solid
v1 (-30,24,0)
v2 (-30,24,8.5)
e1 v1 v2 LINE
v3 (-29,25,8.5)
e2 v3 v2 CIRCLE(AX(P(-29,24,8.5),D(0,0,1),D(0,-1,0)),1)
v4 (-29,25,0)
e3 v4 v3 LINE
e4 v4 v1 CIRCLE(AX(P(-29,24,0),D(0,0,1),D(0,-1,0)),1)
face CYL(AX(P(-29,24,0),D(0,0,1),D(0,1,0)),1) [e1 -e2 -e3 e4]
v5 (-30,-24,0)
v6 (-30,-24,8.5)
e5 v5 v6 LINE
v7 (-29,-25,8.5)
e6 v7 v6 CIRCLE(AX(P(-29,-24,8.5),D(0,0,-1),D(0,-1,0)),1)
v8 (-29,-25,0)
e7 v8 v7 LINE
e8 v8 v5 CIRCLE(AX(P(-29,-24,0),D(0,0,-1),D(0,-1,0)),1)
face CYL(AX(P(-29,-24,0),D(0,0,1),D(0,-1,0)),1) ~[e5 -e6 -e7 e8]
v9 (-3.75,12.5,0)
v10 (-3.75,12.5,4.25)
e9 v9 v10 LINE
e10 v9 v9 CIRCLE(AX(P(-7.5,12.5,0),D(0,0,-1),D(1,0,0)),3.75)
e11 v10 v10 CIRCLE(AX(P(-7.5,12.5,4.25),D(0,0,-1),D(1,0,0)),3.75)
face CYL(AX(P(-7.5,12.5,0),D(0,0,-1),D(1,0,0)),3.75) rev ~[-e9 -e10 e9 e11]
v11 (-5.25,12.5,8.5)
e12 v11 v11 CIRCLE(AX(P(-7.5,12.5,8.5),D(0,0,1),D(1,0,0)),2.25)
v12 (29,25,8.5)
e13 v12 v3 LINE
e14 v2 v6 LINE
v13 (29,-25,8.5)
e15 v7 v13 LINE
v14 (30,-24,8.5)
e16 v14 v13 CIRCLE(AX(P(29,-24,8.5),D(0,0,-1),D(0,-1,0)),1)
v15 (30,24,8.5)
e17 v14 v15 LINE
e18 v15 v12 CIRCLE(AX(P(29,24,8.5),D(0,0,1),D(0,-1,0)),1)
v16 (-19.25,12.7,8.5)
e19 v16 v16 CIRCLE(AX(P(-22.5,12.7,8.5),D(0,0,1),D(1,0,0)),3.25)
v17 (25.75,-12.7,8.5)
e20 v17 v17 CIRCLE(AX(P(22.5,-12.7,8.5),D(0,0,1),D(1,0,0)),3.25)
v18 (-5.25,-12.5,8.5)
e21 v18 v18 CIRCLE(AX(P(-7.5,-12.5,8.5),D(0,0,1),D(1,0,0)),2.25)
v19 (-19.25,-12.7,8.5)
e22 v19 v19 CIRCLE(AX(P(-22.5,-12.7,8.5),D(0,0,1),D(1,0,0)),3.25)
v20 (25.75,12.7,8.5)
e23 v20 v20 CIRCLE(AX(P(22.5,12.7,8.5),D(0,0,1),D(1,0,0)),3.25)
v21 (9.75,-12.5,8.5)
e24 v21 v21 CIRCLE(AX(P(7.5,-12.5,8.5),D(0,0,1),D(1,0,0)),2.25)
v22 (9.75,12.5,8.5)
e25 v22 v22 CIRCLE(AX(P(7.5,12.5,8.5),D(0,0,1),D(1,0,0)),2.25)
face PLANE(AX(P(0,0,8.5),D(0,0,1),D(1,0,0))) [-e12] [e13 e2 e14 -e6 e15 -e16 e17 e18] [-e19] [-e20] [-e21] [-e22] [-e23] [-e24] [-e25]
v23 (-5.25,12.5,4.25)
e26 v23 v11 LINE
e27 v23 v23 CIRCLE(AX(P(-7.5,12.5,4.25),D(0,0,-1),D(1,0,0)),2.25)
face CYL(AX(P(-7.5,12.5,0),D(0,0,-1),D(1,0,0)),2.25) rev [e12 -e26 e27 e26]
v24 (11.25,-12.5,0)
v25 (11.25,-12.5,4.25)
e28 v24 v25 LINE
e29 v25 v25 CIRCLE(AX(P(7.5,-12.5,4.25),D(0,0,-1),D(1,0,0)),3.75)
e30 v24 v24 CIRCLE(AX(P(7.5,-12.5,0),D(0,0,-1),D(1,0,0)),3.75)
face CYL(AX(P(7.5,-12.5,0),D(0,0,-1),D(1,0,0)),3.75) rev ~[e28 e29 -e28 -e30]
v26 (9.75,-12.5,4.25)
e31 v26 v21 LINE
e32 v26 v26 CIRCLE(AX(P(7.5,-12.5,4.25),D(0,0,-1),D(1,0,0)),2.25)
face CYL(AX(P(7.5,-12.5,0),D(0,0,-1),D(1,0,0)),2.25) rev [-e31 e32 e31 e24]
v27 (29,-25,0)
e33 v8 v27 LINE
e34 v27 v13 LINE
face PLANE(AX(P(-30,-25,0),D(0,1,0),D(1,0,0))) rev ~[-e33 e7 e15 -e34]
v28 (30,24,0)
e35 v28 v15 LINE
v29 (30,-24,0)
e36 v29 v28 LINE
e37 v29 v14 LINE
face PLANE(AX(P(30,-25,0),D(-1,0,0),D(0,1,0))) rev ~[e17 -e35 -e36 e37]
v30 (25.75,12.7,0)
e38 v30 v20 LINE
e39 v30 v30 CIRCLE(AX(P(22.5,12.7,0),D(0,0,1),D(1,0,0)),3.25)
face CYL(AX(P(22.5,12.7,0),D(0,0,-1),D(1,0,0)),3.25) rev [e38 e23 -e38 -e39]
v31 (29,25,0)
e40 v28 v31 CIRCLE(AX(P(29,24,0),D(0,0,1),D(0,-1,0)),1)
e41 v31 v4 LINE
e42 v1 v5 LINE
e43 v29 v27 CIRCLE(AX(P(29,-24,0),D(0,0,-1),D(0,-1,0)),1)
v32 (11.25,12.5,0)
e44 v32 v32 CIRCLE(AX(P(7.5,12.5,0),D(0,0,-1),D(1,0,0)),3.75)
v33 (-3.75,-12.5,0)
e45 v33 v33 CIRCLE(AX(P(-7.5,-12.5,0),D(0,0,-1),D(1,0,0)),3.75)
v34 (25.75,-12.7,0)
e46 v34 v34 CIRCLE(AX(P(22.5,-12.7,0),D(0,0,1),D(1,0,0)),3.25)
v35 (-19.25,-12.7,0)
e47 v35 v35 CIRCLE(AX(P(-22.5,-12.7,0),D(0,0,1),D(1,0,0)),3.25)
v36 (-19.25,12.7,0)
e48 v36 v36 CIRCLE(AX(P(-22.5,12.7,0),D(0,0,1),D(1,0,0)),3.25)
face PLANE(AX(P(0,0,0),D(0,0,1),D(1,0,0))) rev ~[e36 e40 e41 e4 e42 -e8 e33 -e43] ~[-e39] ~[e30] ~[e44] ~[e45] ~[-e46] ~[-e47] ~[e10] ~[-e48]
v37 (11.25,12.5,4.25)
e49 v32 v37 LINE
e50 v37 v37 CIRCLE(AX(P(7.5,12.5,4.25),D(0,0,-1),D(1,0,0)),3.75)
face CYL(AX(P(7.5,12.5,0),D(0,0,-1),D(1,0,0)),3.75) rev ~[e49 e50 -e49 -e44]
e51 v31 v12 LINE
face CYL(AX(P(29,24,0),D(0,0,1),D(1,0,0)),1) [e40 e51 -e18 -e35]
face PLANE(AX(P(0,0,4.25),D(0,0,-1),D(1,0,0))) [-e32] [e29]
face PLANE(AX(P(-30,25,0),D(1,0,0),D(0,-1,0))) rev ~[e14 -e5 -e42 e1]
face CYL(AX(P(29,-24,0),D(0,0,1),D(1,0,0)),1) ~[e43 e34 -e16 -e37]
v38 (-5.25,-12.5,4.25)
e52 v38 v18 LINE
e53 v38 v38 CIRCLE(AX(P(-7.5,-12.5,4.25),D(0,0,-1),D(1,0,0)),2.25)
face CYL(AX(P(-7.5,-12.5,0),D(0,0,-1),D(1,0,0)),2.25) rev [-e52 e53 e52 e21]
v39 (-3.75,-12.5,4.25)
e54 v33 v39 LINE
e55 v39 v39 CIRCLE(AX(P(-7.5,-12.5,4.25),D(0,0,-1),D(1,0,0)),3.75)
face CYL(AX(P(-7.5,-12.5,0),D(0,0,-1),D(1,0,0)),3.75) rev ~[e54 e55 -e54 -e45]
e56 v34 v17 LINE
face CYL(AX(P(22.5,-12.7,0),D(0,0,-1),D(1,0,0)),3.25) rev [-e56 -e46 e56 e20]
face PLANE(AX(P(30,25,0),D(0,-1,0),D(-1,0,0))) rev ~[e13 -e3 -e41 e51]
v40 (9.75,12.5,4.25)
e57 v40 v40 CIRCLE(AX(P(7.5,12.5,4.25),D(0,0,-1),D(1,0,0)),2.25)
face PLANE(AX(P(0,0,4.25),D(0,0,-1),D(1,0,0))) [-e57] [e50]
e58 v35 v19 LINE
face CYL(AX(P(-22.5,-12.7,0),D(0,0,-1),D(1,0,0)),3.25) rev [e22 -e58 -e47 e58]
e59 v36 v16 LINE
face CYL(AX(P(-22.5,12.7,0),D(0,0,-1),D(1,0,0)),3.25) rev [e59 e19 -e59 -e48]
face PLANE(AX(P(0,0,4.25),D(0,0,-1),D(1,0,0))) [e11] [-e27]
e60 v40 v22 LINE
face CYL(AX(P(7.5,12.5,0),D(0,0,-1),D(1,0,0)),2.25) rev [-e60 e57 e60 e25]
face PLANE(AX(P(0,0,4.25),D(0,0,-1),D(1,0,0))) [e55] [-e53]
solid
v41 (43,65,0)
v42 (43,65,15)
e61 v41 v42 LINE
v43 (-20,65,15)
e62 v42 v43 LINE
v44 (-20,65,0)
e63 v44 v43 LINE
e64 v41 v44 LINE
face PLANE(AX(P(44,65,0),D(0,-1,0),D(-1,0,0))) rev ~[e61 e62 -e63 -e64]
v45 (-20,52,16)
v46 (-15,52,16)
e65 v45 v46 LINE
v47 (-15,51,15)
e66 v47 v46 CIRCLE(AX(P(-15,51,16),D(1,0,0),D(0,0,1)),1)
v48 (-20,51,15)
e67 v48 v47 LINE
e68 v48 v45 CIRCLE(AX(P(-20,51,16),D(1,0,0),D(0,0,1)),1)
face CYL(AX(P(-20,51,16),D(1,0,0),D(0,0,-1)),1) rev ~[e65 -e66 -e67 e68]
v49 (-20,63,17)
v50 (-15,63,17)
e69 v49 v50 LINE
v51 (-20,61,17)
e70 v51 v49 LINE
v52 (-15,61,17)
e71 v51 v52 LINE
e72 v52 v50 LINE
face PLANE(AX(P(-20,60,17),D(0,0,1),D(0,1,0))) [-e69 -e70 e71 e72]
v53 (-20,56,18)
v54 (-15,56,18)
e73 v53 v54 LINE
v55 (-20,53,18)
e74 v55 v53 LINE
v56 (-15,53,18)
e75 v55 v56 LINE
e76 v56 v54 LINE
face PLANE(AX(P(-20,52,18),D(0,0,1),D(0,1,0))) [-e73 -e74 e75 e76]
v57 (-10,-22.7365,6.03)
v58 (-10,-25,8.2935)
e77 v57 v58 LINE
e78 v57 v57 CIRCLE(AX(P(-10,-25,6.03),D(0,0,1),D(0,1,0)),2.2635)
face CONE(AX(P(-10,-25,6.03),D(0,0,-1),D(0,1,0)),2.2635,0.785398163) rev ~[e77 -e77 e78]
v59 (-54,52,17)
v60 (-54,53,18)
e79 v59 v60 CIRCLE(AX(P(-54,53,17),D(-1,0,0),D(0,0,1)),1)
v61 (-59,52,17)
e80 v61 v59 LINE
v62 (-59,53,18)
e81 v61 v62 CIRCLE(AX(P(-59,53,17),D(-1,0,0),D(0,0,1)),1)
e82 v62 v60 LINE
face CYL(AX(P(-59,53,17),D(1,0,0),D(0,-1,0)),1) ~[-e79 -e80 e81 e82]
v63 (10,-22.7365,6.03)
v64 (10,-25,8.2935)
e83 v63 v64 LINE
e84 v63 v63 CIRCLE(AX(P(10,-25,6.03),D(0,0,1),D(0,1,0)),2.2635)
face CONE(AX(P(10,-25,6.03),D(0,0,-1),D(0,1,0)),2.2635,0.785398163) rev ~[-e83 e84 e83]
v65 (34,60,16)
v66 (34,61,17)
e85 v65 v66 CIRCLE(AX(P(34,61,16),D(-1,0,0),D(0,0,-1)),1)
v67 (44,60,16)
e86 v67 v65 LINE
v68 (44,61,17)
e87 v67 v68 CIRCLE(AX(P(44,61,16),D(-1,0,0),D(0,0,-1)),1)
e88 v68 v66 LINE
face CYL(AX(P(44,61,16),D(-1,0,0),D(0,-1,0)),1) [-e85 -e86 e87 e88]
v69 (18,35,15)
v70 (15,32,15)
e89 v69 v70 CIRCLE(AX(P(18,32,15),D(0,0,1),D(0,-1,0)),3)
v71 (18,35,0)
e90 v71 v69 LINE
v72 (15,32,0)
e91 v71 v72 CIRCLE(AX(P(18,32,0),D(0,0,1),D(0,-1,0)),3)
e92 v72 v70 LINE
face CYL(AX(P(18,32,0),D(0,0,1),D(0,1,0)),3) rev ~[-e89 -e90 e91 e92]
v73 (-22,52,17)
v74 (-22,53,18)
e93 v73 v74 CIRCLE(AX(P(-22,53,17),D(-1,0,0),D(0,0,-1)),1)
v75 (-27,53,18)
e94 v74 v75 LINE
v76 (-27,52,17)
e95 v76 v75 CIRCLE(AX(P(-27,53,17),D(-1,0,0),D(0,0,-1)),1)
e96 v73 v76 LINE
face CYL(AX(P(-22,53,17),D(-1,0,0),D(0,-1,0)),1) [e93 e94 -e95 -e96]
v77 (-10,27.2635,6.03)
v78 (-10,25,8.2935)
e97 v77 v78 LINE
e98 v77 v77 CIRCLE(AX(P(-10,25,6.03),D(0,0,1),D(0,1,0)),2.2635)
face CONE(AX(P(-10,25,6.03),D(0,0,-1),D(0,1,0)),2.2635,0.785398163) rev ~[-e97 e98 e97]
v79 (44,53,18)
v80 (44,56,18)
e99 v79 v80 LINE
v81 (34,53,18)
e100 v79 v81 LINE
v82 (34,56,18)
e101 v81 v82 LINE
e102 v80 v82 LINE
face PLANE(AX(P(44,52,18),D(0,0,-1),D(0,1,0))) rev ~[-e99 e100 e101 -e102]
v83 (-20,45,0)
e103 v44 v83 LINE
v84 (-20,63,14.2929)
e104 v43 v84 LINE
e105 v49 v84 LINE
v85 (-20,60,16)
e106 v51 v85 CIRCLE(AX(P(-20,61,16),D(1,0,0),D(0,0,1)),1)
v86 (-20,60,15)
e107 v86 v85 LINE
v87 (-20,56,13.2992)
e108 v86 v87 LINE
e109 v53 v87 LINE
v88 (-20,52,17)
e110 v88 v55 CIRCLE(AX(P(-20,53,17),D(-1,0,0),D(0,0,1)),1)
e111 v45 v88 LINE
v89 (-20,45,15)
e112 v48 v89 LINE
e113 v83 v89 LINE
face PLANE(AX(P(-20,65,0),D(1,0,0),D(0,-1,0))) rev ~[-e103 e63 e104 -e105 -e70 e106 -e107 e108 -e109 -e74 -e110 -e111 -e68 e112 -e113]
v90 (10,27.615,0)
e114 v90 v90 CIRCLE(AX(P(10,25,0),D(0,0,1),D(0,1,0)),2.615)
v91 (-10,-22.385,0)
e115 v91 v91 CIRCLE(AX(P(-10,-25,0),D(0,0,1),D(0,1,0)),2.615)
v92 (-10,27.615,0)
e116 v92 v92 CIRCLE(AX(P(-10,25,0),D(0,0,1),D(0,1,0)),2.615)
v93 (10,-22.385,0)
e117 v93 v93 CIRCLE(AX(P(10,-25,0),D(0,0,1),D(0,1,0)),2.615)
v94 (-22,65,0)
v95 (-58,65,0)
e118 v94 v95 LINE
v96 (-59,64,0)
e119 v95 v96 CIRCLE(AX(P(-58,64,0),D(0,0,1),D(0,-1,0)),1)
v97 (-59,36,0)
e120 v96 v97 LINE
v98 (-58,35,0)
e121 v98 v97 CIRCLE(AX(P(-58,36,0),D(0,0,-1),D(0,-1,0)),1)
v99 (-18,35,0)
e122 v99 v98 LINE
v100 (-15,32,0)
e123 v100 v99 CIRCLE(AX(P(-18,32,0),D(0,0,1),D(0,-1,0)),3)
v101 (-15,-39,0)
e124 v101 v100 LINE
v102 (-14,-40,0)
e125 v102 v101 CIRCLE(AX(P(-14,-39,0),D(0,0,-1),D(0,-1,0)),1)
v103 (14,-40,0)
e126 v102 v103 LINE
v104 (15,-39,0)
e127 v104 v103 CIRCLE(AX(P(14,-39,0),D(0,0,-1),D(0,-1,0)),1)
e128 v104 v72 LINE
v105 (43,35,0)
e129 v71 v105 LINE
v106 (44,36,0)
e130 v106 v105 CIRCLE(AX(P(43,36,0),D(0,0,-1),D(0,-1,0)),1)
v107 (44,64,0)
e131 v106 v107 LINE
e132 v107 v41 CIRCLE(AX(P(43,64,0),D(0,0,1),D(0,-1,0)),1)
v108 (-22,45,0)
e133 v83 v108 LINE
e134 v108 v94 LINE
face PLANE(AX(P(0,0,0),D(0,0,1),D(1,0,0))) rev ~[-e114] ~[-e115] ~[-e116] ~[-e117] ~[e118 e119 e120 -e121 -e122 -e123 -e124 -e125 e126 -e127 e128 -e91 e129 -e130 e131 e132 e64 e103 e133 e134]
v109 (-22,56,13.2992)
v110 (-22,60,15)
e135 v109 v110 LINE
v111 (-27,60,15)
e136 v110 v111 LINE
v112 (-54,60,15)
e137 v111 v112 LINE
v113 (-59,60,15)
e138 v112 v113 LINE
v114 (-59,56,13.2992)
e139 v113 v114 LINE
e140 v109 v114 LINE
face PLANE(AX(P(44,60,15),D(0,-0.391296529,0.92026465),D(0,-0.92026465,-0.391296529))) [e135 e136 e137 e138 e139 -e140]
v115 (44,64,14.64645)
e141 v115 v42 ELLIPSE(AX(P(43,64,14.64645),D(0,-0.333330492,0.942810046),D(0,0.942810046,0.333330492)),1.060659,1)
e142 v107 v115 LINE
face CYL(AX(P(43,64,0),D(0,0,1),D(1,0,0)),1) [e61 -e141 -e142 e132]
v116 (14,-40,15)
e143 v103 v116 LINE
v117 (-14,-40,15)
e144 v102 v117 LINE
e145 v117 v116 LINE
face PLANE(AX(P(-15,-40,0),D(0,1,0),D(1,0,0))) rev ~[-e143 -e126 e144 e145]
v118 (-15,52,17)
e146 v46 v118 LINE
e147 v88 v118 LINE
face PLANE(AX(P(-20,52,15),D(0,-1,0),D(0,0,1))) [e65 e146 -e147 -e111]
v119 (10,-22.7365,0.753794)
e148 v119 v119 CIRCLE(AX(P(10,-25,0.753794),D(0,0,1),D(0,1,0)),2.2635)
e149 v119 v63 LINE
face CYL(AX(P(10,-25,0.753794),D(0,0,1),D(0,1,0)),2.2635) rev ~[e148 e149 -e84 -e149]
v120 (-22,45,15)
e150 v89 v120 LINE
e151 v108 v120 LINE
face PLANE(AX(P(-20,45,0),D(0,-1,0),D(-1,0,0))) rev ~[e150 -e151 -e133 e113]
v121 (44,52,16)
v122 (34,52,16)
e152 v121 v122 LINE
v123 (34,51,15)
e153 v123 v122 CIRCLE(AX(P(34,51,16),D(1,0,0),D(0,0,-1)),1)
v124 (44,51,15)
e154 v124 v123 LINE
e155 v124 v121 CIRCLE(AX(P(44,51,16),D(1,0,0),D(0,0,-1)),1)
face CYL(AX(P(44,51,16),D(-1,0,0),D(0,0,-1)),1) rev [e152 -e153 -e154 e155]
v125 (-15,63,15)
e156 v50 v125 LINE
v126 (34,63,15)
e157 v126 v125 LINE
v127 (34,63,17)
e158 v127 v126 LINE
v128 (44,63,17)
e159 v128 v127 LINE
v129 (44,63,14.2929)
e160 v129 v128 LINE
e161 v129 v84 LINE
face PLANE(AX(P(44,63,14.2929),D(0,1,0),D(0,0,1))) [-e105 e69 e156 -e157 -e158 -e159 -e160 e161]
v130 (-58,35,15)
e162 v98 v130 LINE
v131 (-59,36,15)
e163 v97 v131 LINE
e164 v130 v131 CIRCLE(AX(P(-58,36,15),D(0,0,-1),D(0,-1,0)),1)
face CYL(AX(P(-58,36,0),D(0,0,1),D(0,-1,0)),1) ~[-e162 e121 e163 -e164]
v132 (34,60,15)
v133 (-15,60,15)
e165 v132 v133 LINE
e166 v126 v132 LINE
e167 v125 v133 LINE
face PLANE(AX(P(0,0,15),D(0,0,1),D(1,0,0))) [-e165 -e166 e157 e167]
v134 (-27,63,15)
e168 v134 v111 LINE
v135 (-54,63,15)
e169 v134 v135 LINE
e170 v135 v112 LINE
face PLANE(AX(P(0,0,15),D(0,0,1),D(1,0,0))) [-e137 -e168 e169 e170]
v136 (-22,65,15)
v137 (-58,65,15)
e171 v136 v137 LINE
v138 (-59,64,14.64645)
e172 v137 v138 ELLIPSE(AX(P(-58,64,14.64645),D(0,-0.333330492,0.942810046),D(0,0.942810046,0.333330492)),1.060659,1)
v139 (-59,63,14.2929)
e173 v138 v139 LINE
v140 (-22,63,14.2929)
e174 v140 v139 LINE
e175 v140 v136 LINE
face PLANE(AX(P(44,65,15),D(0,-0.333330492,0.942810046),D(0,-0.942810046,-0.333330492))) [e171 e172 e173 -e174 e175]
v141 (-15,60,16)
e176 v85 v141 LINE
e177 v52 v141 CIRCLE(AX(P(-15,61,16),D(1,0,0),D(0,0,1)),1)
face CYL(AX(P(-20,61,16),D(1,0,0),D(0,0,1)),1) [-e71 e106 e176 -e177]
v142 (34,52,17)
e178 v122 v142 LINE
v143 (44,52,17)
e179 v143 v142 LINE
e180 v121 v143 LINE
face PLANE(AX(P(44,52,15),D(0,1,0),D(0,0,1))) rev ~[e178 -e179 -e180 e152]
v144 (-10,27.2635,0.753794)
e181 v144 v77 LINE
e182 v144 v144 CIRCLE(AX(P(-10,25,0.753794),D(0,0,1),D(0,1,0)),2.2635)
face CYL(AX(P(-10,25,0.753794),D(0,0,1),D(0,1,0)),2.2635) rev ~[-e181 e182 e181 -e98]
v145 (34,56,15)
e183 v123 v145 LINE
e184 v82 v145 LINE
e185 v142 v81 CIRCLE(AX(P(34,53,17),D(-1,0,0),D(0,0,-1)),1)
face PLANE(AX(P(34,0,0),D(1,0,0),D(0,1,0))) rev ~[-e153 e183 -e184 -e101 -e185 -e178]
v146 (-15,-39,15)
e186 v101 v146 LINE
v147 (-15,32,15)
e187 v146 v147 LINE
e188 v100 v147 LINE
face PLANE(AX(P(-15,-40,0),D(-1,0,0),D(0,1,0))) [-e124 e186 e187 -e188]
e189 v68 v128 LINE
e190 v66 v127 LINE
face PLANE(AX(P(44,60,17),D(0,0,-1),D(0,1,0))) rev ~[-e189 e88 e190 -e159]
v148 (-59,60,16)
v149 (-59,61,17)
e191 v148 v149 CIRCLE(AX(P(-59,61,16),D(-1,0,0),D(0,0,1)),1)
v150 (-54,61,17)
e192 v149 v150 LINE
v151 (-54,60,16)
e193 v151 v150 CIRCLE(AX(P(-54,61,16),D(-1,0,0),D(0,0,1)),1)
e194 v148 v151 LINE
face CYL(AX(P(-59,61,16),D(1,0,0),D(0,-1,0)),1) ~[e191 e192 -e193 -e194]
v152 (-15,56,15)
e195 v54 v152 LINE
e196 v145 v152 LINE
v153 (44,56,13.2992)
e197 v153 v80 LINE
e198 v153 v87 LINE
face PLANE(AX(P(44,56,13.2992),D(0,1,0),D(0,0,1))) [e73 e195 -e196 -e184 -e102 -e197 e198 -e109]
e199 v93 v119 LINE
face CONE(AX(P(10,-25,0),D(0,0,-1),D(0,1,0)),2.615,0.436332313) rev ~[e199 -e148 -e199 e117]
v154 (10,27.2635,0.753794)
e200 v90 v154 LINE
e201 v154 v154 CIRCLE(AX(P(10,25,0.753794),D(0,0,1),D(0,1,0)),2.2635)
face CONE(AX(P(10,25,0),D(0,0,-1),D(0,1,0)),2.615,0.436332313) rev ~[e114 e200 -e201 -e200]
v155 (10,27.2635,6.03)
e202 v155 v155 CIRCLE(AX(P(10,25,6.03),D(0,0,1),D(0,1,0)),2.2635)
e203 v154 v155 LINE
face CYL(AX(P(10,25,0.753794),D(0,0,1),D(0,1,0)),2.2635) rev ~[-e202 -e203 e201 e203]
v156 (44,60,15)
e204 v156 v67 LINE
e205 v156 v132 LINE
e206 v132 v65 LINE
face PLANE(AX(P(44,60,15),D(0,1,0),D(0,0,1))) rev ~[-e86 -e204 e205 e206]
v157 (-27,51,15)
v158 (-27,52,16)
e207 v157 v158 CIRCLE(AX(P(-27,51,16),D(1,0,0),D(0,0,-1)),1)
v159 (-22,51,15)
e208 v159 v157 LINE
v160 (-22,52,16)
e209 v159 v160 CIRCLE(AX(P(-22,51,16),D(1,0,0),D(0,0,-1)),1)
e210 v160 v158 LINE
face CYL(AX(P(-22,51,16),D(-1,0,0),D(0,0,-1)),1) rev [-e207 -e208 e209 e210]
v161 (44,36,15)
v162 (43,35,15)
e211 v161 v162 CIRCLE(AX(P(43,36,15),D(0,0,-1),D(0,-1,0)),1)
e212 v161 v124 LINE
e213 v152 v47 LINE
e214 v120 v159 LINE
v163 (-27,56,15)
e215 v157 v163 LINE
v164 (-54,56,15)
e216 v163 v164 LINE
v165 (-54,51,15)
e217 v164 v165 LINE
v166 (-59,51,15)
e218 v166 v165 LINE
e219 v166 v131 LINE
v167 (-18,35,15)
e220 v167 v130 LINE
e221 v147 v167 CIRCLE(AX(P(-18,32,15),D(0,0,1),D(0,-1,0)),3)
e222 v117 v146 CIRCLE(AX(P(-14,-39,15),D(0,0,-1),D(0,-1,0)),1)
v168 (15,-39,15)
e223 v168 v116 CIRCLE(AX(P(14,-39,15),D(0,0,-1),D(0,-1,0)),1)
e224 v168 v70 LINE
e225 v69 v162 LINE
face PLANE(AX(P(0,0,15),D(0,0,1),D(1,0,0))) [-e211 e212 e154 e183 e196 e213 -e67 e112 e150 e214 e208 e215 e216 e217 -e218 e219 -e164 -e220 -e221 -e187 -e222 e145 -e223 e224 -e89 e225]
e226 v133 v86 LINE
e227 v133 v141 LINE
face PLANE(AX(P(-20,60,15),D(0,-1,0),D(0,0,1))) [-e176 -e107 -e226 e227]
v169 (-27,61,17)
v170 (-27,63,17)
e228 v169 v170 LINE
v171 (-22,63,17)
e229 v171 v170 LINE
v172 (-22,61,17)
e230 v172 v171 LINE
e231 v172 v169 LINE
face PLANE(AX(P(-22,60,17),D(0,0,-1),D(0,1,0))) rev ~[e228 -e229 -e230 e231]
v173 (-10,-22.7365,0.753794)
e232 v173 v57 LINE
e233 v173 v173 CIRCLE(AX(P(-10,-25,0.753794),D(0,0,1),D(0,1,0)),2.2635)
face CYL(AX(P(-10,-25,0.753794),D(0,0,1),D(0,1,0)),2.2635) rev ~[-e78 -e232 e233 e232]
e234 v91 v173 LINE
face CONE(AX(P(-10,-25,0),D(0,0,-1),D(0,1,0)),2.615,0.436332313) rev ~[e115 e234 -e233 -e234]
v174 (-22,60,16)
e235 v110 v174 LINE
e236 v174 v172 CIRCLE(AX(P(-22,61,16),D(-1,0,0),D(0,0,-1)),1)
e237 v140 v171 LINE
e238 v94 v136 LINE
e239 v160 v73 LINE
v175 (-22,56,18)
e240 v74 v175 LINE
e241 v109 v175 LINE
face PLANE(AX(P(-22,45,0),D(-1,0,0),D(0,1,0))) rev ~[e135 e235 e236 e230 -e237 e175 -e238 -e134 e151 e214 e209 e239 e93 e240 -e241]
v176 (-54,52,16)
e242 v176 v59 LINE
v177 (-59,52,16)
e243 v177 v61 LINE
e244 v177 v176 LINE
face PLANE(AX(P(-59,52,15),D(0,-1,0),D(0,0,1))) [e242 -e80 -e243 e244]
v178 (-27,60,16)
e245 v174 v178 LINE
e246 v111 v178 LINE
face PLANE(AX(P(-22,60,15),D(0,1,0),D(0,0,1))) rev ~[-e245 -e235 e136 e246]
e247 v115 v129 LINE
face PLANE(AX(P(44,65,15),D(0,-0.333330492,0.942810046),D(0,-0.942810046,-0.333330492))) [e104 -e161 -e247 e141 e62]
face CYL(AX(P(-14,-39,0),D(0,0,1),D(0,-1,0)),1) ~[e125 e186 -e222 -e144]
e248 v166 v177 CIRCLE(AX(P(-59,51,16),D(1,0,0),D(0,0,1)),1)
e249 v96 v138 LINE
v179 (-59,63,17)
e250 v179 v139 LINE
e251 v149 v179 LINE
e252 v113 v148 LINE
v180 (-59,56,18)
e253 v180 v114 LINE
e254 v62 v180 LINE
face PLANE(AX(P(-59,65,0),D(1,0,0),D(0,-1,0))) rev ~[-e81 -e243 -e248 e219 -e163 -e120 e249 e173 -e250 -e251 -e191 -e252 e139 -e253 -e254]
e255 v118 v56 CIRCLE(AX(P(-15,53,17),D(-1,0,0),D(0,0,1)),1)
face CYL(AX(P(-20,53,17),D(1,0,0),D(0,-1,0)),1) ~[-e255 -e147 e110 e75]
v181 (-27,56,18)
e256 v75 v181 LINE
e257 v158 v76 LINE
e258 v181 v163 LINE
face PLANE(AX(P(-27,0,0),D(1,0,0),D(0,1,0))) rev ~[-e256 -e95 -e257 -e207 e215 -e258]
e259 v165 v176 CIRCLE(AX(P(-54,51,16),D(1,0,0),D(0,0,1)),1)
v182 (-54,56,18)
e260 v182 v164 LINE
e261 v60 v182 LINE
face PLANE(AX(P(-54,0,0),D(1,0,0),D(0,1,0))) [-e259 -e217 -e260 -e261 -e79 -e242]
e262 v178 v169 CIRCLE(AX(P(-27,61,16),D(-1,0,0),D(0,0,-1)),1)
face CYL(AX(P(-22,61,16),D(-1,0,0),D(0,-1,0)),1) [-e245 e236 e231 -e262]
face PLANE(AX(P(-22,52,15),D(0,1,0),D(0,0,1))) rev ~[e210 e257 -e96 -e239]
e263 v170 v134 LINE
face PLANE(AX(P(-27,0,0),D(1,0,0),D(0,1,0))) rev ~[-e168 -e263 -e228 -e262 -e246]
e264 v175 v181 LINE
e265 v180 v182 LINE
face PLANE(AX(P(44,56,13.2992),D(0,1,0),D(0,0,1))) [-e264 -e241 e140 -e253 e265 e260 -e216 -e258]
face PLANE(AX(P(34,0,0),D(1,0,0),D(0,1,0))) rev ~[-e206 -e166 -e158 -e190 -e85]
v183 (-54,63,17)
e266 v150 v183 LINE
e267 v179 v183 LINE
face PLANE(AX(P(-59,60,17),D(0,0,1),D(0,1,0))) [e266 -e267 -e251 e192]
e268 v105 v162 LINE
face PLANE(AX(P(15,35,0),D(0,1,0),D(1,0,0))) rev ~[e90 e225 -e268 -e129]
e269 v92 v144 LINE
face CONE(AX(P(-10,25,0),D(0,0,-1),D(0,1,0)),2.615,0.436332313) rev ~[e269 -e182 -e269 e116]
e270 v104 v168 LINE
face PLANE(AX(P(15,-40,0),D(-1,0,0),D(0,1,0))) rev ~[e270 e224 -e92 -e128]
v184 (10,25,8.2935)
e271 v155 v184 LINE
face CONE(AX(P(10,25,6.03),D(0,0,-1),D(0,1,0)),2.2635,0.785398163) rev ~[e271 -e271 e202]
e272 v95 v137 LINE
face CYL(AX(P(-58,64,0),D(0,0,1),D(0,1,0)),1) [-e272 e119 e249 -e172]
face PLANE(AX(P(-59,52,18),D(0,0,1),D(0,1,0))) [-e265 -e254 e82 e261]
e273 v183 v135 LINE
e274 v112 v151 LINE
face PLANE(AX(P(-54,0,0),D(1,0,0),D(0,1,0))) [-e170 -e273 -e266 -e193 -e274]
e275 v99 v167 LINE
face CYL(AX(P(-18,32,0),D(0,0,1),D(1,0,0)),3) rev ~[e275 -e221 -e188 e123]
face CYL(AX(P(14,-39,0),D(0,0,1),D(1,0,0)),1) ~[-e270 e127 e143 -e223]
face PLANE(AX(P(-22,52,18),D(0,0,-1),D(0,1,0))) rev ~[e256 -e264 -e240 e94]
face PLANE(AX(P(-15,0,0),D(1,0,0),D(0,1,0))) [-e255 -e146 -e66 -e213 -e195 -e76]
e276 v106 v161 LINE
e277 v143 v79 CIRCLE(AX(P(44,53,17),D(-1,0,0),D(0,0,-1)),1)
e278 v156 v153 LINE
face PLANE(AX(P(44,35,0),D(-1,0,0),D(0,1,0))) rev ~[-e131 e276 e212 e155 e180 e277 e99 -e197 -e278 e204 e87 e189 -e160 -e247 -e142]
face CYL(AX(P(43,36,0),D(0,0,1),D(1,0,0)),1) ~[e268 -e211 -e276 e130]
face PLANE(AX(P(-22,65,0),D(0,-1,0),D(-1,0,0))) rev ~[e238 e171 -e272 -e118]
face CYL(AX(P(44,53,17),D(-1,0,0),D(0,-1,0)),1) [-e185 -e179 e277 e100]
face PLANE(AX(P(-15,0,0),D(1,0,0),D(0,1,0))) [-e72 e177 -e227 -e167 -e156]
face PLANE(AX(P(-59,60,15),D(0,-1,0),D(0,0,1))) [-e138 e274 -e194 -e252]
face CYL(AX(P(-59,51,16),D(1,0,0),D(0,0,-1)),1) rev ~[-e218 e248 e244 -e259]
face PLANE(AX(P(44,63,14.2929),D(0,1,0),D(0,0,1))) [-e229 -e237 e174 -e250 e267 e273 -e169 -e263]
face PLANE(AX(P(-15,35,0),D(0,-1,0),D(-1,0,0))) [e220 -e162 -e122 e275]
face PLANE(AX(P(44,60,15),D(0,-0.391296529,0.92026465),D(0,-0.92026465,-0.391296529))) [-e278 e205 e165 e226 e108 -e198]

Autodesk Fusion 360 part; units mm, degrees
sketch "Sketch1" plane through (0, 0, 0) normal (0, 0, 1) x (1, 0, 0) in component "Base Plate"
  line L0 (30, 25) -> (-30, 25)
  line L1 (-30, 25) -> (-30, -25)
  line L2 (-30, -25) -> (30, -25)
  line L3 (30, -25) -> (30, 25)
  line L4 (30, 25) -> (-30, -25) construction
  line L5 (-30, 25) -> (30, -25) construction
  line L6 (15, 25) -> (-15, 25) construction
  line L7 (-15, 25) -> (-15, -25) construction
  line L8 (-15, -25) -> (15, -25) construction
  line L9 (15, -25) -> (15, 25) construction
  line L10 (15, 25) -> (-15, -25) construction
  line L11 (-15, 25) -> (15, -25) construction
  line L12 (7.5, 12.5) -> (-7.5, 12.5) construction
  line L13 (-7.5, 12.5) -> (-7.5, -12.5) construction
  line L14 (-7.5, -12.5) -> (7.5, -12.5) construction
  line L15 (7.5, -12.5) -> (7.5, 12.5) construction
  line L16 (7.5, 12.5) -> (-7.5, -12.5) construction
  line L17 (-7.5, 12.5) -> (7.5, -12.5) construction
  circle A0 centre (7.5, 12.5) radius 2.25
  circle A1 centre (7.5, -12.5) radius 2.25
  circle A2 centre (-7.5, -12.5) radius 2.25
  circle A3 centre (-7.5, 12.5) radius 2.25
  circle A4 centre (-22.5, 12.7) radius 3.25
  line L18 (-15, 0) -> (-30, 0) construction
  line L19 (-22.5, 0) -> (-22.5, 12.7) construction
  line L20 (0, 0) -> (0, 25) construction
  circle A5 centre (-22.5, -12.7) radius 3.25
  circle A6 centre (22.5, 12.7) radius 3.25
  circle A7 centre (22.5, -12.7) radius 3.25
  dimension "d1" = 60
  dimension "d2" = 50
  dimension "d3" = 30
  dimension "d4" = 15
  dimension "d5" = 25
  dimension "d6" = 4.5
  dimension "d8" = 12.7
  dimension "d9" = 6.5
extrude "Extrude1" add sketch "Sketch1" along normal blind 8.5 makes body 1 in component "Base Plate"
sketch "Sketch2" plane through (0, 0, 0) normal (0, 0, -1) x (1, 0, 0) in component "Base Plate"
  circle A0 centre (7.5, -12.5) radius 2.25
  circle A1 centre (7.5, 12.5) radius 2.25
  circle A2 centre (-7.5, 12.5) radius 2.25
  circle A3 centre (22.5, -12.7) radius 3.25
  circle A4 centre (22.5, 12.7) radius 3.25
  circle A5 centre (-22.5, 12.7) radius 3.25
  circle A6 centre (-7.5, -12.5) radius 2.25
  circle A7 centre (-22.5, -12.7) radius 3.25
  line L0 (30, -25) -> (30, 25)
  line L1 (30, 25) -> (-30, 25)
  line L2 (-30, 25) -> (-30, -25)
  line L3 (-30, -25) -> (30, -25)
  circle A8 centre (7.5, -12.5) radius 3.75
  circle A9 centre (-7.5, -12.5) radius 3.75
  circle A10 centre (-7.5, 12.5) radius 3.75
  circle A11 centre (7.5, 12.5) radius 3.75
  dimension "d12" = 7.5
extrude "Extrude2" cut sketch "Sketch2" against normal blind 4.25 contours A8 | A9 | A10 | A11 bodies 1 in component "Base Plate"
fillet "Fillet1" radius 1 4 edges at (30, -25, 4.25) (30, 25, 4.25) (-30, 25, 4.25) (-30, -25, 4.25) on bodies 1 in component "Base Plate"
sketch "Sketch1 (2)" plane through (0, 0, 0) normal (0, 0, 1) x (1, 0, 0) in component "Table"
  line L0 (10, 25) -> (-10, 25) construction
  line L1 (-10, 25) -> (-10, -25) construction
  line L2 (-10, -25) -> (10, -25) construction
  line L3 (10, -25) -> (10, 25) construction
  line L4 (10, 25) -> (-10, -25) construction
  line L5 (-10, 25) -> (10, -25) construction
  line L6 (15, 40) -> (-15, 40) construction
  line L7 (-15, 40) -> (-15, -40) construction
  line L8 (-15, -40) -> (15, -40) construction
  line L9 (15, -40) -> (15, 40) construction
  line L10 (15, 40) -> (-15, -40) construction
  line L11 (-15, 40) -> (15, -40) construction
  line L12 (-59, 65) -> (-59, 35)
  line L13 (-15, -40) -> (15, -40)
  line L14 (44, 35) -> (44, 65)
  line L15 (-22, 65) -> (-20, 65)
  line L16 (-20, 65) -> (-20, 45)
  line L17 (-20, 45) -> (-22, 45)
  line L18 (-22, 45) -> (-22, 65)
  line L19 (-15, -40) -> (-15, 35)
  line L20 (15, -40) -> (15, 35)
  line L21 (15, 35) -> (44, 35)
  line L22 (-15, 35) -> (-59, 35)
  line L23 (44, 65) -> (-59, 65)
  point P0 (-10, 25)
  point P1 (10, 25)
  point P2 (10, -25)
  point P3 (-10, -25)
  dimension "d18" = 20
  dimension "d19" = 50
  dimension "d20" = 30
  dimension "d21" = 80
  dimension "d25" = 5
  dimension "d26" = 2
  dimension "d27" = 20
  dimension "d74" = 37
  dimension "d76" = 64
  dimension "d77" = 10
  dimension "d105" = 5
extrude "Extrude1'" add sketch "Sketch1 (2)" along normal blind 15 separate body contours L12 L13 L14 L16 L17 L18 L19 L20 L21 L22 L23 makes body 2 in component "Table"
sketch "Sketch2 (2)" plane through (44, 0, 0) normal (1, 0, 0) x (0, 1, 0) in component "Table"
  line L0 (35, 0) -> (65, 0)
  line L1 (65, 15) -> (35, 15)
  line L2 (35, 15) -> (35, 0)
  line L3 (65, 15) -> (63, 14.2929)
  line L4 (63, 14.2929) -> (63, 15)
  circle A0 centre (63.5, 15) radius 0.5 construction
  line L5 (63, 15) -> (60, 15)
  line L6 (60, 15) -> (60, 17)
  line L7 (60, 17) -> (63, 17)
  line L8 (63, 17) -> (63, 15)
  line L9 (56, 15) -> (52, 15)
  line L10 (56, 18) -> (56, 15)
  line L11 (52, 18) -> (56, 18)
  line L12 (52, 15) -> (52, 18)
  circle A1 centre (57.125, 15) radius 1.125 construction
  line L13 (60, 15) -> (56, 13.2992)
  line L14 (56, 13.2992) -> (56, 15)
  line L15 (65, 0) -> (65, 15)
  line L16 (65, 5) -> (52, 5) construction
  dimension "d52" = 1
  dimension "d78" = 2
  dimension "d81" = 2.25
  dimension "d82" = 3
  dimension "d83" = 4
  dimension "d84" = 4
  dimension "d85" = 3
  dimension "d106" = 13
  dimension "d108" = 10
hole "Hole1" at (10, -25, 0) at (-10, -25, 0) at (-10, 25, 0) at (10, 25, 0) direction (0, 0, 1) diameter 4.527 depth 6.03 tip angle 90 countersink diameter 5.23 countersink angle 50 bodies 2 in component "Table"
extrude "Extrude8" cut sketch "Sketch2 (2)" against normal blind 103 contours L1 L3 L4 | L1 L13 L14 bodies 2 in component "Table"
extrude "Extrude9" add sketch "Sketch2 (2)" against normal blind 10 contours L1 L9 L10 L11 L12 | L1 L5 L6 L7 L8 bodies 2 in component "Table"
extrude "Extrude10" add sketch "Sketch2 (2)" along normal blind 5 from surface at -64 contours L1 L9 L10 L11 L12 | L1 L5 L6 L7 L8 bodies 2 in component "Table"
extrude "Extrude11" add sketch "Sketch2 (2)" against normal blind 5 from surface at -66 contours L1 L9 L10 L11 L12 | L1 L5 L6 L7 L8 bodies 2 in component "Table"
extrude "Extrude12" add sketch "Sketch2 (2)" along normal blind 5 from surface at -103 contours L1 L9 L10 L11 L12 | L1 L5 L6 L7 L8 bodies 2 in component "Table"
fillet "Fillet4" radius 1 12 edges at (39, 52, 15) (39, 52, 18) (-17.5, 52, 15) (-17.5, 52, 18) (-24.5, 52, 15) (-24.5, 52, 18) (-56.5, 52, 15) (-56.5, 52, 18) (-17.5, 60, 17) (-24.5, 60, 17) (-56.5, 60, 17) (39, 60, 17) on bodies 2 in component "Table"
fillet "Fillet5" radius 1 6 edges at (-59, 35, 7.5) (-15, -40, 7.5) (15, -40, 7.5) (44, 35, 7.5) (44, 65, 7.5) (-59, 65, 7.5) on bodies 2 in component "Table"
fillet "Fillet6" radius 3 2 edges at (15, 35, 7.5) (-15, 35, 7.5) on bodies 2 in component "Table"
component "Base Plate" placed x (1, 0, 0) y (0, 1, 0) z (0, 0, 1) at (0, 0, 0)
component "Table" placed x (1, 0, 0) y (0, 1, 0) z (0, 0, 1) at (0, 0, 0)
equation "d8 = 1 in / 2"
equation "d69 = 5.03 mm + 1 mm"
equation "d70 = ( 5.03 * 0.9 ) * 1 mm"
equation "d72 = 5.03 mm + 0.2 mm"
equation "d74 = 27 mm + ( ( 2 * 5 ) * 1 mm )"
equation "d76 = ( ( 27 * 2 ) * 1 mm ) + ( ( 2 * 5 ) * 1 mm )"
